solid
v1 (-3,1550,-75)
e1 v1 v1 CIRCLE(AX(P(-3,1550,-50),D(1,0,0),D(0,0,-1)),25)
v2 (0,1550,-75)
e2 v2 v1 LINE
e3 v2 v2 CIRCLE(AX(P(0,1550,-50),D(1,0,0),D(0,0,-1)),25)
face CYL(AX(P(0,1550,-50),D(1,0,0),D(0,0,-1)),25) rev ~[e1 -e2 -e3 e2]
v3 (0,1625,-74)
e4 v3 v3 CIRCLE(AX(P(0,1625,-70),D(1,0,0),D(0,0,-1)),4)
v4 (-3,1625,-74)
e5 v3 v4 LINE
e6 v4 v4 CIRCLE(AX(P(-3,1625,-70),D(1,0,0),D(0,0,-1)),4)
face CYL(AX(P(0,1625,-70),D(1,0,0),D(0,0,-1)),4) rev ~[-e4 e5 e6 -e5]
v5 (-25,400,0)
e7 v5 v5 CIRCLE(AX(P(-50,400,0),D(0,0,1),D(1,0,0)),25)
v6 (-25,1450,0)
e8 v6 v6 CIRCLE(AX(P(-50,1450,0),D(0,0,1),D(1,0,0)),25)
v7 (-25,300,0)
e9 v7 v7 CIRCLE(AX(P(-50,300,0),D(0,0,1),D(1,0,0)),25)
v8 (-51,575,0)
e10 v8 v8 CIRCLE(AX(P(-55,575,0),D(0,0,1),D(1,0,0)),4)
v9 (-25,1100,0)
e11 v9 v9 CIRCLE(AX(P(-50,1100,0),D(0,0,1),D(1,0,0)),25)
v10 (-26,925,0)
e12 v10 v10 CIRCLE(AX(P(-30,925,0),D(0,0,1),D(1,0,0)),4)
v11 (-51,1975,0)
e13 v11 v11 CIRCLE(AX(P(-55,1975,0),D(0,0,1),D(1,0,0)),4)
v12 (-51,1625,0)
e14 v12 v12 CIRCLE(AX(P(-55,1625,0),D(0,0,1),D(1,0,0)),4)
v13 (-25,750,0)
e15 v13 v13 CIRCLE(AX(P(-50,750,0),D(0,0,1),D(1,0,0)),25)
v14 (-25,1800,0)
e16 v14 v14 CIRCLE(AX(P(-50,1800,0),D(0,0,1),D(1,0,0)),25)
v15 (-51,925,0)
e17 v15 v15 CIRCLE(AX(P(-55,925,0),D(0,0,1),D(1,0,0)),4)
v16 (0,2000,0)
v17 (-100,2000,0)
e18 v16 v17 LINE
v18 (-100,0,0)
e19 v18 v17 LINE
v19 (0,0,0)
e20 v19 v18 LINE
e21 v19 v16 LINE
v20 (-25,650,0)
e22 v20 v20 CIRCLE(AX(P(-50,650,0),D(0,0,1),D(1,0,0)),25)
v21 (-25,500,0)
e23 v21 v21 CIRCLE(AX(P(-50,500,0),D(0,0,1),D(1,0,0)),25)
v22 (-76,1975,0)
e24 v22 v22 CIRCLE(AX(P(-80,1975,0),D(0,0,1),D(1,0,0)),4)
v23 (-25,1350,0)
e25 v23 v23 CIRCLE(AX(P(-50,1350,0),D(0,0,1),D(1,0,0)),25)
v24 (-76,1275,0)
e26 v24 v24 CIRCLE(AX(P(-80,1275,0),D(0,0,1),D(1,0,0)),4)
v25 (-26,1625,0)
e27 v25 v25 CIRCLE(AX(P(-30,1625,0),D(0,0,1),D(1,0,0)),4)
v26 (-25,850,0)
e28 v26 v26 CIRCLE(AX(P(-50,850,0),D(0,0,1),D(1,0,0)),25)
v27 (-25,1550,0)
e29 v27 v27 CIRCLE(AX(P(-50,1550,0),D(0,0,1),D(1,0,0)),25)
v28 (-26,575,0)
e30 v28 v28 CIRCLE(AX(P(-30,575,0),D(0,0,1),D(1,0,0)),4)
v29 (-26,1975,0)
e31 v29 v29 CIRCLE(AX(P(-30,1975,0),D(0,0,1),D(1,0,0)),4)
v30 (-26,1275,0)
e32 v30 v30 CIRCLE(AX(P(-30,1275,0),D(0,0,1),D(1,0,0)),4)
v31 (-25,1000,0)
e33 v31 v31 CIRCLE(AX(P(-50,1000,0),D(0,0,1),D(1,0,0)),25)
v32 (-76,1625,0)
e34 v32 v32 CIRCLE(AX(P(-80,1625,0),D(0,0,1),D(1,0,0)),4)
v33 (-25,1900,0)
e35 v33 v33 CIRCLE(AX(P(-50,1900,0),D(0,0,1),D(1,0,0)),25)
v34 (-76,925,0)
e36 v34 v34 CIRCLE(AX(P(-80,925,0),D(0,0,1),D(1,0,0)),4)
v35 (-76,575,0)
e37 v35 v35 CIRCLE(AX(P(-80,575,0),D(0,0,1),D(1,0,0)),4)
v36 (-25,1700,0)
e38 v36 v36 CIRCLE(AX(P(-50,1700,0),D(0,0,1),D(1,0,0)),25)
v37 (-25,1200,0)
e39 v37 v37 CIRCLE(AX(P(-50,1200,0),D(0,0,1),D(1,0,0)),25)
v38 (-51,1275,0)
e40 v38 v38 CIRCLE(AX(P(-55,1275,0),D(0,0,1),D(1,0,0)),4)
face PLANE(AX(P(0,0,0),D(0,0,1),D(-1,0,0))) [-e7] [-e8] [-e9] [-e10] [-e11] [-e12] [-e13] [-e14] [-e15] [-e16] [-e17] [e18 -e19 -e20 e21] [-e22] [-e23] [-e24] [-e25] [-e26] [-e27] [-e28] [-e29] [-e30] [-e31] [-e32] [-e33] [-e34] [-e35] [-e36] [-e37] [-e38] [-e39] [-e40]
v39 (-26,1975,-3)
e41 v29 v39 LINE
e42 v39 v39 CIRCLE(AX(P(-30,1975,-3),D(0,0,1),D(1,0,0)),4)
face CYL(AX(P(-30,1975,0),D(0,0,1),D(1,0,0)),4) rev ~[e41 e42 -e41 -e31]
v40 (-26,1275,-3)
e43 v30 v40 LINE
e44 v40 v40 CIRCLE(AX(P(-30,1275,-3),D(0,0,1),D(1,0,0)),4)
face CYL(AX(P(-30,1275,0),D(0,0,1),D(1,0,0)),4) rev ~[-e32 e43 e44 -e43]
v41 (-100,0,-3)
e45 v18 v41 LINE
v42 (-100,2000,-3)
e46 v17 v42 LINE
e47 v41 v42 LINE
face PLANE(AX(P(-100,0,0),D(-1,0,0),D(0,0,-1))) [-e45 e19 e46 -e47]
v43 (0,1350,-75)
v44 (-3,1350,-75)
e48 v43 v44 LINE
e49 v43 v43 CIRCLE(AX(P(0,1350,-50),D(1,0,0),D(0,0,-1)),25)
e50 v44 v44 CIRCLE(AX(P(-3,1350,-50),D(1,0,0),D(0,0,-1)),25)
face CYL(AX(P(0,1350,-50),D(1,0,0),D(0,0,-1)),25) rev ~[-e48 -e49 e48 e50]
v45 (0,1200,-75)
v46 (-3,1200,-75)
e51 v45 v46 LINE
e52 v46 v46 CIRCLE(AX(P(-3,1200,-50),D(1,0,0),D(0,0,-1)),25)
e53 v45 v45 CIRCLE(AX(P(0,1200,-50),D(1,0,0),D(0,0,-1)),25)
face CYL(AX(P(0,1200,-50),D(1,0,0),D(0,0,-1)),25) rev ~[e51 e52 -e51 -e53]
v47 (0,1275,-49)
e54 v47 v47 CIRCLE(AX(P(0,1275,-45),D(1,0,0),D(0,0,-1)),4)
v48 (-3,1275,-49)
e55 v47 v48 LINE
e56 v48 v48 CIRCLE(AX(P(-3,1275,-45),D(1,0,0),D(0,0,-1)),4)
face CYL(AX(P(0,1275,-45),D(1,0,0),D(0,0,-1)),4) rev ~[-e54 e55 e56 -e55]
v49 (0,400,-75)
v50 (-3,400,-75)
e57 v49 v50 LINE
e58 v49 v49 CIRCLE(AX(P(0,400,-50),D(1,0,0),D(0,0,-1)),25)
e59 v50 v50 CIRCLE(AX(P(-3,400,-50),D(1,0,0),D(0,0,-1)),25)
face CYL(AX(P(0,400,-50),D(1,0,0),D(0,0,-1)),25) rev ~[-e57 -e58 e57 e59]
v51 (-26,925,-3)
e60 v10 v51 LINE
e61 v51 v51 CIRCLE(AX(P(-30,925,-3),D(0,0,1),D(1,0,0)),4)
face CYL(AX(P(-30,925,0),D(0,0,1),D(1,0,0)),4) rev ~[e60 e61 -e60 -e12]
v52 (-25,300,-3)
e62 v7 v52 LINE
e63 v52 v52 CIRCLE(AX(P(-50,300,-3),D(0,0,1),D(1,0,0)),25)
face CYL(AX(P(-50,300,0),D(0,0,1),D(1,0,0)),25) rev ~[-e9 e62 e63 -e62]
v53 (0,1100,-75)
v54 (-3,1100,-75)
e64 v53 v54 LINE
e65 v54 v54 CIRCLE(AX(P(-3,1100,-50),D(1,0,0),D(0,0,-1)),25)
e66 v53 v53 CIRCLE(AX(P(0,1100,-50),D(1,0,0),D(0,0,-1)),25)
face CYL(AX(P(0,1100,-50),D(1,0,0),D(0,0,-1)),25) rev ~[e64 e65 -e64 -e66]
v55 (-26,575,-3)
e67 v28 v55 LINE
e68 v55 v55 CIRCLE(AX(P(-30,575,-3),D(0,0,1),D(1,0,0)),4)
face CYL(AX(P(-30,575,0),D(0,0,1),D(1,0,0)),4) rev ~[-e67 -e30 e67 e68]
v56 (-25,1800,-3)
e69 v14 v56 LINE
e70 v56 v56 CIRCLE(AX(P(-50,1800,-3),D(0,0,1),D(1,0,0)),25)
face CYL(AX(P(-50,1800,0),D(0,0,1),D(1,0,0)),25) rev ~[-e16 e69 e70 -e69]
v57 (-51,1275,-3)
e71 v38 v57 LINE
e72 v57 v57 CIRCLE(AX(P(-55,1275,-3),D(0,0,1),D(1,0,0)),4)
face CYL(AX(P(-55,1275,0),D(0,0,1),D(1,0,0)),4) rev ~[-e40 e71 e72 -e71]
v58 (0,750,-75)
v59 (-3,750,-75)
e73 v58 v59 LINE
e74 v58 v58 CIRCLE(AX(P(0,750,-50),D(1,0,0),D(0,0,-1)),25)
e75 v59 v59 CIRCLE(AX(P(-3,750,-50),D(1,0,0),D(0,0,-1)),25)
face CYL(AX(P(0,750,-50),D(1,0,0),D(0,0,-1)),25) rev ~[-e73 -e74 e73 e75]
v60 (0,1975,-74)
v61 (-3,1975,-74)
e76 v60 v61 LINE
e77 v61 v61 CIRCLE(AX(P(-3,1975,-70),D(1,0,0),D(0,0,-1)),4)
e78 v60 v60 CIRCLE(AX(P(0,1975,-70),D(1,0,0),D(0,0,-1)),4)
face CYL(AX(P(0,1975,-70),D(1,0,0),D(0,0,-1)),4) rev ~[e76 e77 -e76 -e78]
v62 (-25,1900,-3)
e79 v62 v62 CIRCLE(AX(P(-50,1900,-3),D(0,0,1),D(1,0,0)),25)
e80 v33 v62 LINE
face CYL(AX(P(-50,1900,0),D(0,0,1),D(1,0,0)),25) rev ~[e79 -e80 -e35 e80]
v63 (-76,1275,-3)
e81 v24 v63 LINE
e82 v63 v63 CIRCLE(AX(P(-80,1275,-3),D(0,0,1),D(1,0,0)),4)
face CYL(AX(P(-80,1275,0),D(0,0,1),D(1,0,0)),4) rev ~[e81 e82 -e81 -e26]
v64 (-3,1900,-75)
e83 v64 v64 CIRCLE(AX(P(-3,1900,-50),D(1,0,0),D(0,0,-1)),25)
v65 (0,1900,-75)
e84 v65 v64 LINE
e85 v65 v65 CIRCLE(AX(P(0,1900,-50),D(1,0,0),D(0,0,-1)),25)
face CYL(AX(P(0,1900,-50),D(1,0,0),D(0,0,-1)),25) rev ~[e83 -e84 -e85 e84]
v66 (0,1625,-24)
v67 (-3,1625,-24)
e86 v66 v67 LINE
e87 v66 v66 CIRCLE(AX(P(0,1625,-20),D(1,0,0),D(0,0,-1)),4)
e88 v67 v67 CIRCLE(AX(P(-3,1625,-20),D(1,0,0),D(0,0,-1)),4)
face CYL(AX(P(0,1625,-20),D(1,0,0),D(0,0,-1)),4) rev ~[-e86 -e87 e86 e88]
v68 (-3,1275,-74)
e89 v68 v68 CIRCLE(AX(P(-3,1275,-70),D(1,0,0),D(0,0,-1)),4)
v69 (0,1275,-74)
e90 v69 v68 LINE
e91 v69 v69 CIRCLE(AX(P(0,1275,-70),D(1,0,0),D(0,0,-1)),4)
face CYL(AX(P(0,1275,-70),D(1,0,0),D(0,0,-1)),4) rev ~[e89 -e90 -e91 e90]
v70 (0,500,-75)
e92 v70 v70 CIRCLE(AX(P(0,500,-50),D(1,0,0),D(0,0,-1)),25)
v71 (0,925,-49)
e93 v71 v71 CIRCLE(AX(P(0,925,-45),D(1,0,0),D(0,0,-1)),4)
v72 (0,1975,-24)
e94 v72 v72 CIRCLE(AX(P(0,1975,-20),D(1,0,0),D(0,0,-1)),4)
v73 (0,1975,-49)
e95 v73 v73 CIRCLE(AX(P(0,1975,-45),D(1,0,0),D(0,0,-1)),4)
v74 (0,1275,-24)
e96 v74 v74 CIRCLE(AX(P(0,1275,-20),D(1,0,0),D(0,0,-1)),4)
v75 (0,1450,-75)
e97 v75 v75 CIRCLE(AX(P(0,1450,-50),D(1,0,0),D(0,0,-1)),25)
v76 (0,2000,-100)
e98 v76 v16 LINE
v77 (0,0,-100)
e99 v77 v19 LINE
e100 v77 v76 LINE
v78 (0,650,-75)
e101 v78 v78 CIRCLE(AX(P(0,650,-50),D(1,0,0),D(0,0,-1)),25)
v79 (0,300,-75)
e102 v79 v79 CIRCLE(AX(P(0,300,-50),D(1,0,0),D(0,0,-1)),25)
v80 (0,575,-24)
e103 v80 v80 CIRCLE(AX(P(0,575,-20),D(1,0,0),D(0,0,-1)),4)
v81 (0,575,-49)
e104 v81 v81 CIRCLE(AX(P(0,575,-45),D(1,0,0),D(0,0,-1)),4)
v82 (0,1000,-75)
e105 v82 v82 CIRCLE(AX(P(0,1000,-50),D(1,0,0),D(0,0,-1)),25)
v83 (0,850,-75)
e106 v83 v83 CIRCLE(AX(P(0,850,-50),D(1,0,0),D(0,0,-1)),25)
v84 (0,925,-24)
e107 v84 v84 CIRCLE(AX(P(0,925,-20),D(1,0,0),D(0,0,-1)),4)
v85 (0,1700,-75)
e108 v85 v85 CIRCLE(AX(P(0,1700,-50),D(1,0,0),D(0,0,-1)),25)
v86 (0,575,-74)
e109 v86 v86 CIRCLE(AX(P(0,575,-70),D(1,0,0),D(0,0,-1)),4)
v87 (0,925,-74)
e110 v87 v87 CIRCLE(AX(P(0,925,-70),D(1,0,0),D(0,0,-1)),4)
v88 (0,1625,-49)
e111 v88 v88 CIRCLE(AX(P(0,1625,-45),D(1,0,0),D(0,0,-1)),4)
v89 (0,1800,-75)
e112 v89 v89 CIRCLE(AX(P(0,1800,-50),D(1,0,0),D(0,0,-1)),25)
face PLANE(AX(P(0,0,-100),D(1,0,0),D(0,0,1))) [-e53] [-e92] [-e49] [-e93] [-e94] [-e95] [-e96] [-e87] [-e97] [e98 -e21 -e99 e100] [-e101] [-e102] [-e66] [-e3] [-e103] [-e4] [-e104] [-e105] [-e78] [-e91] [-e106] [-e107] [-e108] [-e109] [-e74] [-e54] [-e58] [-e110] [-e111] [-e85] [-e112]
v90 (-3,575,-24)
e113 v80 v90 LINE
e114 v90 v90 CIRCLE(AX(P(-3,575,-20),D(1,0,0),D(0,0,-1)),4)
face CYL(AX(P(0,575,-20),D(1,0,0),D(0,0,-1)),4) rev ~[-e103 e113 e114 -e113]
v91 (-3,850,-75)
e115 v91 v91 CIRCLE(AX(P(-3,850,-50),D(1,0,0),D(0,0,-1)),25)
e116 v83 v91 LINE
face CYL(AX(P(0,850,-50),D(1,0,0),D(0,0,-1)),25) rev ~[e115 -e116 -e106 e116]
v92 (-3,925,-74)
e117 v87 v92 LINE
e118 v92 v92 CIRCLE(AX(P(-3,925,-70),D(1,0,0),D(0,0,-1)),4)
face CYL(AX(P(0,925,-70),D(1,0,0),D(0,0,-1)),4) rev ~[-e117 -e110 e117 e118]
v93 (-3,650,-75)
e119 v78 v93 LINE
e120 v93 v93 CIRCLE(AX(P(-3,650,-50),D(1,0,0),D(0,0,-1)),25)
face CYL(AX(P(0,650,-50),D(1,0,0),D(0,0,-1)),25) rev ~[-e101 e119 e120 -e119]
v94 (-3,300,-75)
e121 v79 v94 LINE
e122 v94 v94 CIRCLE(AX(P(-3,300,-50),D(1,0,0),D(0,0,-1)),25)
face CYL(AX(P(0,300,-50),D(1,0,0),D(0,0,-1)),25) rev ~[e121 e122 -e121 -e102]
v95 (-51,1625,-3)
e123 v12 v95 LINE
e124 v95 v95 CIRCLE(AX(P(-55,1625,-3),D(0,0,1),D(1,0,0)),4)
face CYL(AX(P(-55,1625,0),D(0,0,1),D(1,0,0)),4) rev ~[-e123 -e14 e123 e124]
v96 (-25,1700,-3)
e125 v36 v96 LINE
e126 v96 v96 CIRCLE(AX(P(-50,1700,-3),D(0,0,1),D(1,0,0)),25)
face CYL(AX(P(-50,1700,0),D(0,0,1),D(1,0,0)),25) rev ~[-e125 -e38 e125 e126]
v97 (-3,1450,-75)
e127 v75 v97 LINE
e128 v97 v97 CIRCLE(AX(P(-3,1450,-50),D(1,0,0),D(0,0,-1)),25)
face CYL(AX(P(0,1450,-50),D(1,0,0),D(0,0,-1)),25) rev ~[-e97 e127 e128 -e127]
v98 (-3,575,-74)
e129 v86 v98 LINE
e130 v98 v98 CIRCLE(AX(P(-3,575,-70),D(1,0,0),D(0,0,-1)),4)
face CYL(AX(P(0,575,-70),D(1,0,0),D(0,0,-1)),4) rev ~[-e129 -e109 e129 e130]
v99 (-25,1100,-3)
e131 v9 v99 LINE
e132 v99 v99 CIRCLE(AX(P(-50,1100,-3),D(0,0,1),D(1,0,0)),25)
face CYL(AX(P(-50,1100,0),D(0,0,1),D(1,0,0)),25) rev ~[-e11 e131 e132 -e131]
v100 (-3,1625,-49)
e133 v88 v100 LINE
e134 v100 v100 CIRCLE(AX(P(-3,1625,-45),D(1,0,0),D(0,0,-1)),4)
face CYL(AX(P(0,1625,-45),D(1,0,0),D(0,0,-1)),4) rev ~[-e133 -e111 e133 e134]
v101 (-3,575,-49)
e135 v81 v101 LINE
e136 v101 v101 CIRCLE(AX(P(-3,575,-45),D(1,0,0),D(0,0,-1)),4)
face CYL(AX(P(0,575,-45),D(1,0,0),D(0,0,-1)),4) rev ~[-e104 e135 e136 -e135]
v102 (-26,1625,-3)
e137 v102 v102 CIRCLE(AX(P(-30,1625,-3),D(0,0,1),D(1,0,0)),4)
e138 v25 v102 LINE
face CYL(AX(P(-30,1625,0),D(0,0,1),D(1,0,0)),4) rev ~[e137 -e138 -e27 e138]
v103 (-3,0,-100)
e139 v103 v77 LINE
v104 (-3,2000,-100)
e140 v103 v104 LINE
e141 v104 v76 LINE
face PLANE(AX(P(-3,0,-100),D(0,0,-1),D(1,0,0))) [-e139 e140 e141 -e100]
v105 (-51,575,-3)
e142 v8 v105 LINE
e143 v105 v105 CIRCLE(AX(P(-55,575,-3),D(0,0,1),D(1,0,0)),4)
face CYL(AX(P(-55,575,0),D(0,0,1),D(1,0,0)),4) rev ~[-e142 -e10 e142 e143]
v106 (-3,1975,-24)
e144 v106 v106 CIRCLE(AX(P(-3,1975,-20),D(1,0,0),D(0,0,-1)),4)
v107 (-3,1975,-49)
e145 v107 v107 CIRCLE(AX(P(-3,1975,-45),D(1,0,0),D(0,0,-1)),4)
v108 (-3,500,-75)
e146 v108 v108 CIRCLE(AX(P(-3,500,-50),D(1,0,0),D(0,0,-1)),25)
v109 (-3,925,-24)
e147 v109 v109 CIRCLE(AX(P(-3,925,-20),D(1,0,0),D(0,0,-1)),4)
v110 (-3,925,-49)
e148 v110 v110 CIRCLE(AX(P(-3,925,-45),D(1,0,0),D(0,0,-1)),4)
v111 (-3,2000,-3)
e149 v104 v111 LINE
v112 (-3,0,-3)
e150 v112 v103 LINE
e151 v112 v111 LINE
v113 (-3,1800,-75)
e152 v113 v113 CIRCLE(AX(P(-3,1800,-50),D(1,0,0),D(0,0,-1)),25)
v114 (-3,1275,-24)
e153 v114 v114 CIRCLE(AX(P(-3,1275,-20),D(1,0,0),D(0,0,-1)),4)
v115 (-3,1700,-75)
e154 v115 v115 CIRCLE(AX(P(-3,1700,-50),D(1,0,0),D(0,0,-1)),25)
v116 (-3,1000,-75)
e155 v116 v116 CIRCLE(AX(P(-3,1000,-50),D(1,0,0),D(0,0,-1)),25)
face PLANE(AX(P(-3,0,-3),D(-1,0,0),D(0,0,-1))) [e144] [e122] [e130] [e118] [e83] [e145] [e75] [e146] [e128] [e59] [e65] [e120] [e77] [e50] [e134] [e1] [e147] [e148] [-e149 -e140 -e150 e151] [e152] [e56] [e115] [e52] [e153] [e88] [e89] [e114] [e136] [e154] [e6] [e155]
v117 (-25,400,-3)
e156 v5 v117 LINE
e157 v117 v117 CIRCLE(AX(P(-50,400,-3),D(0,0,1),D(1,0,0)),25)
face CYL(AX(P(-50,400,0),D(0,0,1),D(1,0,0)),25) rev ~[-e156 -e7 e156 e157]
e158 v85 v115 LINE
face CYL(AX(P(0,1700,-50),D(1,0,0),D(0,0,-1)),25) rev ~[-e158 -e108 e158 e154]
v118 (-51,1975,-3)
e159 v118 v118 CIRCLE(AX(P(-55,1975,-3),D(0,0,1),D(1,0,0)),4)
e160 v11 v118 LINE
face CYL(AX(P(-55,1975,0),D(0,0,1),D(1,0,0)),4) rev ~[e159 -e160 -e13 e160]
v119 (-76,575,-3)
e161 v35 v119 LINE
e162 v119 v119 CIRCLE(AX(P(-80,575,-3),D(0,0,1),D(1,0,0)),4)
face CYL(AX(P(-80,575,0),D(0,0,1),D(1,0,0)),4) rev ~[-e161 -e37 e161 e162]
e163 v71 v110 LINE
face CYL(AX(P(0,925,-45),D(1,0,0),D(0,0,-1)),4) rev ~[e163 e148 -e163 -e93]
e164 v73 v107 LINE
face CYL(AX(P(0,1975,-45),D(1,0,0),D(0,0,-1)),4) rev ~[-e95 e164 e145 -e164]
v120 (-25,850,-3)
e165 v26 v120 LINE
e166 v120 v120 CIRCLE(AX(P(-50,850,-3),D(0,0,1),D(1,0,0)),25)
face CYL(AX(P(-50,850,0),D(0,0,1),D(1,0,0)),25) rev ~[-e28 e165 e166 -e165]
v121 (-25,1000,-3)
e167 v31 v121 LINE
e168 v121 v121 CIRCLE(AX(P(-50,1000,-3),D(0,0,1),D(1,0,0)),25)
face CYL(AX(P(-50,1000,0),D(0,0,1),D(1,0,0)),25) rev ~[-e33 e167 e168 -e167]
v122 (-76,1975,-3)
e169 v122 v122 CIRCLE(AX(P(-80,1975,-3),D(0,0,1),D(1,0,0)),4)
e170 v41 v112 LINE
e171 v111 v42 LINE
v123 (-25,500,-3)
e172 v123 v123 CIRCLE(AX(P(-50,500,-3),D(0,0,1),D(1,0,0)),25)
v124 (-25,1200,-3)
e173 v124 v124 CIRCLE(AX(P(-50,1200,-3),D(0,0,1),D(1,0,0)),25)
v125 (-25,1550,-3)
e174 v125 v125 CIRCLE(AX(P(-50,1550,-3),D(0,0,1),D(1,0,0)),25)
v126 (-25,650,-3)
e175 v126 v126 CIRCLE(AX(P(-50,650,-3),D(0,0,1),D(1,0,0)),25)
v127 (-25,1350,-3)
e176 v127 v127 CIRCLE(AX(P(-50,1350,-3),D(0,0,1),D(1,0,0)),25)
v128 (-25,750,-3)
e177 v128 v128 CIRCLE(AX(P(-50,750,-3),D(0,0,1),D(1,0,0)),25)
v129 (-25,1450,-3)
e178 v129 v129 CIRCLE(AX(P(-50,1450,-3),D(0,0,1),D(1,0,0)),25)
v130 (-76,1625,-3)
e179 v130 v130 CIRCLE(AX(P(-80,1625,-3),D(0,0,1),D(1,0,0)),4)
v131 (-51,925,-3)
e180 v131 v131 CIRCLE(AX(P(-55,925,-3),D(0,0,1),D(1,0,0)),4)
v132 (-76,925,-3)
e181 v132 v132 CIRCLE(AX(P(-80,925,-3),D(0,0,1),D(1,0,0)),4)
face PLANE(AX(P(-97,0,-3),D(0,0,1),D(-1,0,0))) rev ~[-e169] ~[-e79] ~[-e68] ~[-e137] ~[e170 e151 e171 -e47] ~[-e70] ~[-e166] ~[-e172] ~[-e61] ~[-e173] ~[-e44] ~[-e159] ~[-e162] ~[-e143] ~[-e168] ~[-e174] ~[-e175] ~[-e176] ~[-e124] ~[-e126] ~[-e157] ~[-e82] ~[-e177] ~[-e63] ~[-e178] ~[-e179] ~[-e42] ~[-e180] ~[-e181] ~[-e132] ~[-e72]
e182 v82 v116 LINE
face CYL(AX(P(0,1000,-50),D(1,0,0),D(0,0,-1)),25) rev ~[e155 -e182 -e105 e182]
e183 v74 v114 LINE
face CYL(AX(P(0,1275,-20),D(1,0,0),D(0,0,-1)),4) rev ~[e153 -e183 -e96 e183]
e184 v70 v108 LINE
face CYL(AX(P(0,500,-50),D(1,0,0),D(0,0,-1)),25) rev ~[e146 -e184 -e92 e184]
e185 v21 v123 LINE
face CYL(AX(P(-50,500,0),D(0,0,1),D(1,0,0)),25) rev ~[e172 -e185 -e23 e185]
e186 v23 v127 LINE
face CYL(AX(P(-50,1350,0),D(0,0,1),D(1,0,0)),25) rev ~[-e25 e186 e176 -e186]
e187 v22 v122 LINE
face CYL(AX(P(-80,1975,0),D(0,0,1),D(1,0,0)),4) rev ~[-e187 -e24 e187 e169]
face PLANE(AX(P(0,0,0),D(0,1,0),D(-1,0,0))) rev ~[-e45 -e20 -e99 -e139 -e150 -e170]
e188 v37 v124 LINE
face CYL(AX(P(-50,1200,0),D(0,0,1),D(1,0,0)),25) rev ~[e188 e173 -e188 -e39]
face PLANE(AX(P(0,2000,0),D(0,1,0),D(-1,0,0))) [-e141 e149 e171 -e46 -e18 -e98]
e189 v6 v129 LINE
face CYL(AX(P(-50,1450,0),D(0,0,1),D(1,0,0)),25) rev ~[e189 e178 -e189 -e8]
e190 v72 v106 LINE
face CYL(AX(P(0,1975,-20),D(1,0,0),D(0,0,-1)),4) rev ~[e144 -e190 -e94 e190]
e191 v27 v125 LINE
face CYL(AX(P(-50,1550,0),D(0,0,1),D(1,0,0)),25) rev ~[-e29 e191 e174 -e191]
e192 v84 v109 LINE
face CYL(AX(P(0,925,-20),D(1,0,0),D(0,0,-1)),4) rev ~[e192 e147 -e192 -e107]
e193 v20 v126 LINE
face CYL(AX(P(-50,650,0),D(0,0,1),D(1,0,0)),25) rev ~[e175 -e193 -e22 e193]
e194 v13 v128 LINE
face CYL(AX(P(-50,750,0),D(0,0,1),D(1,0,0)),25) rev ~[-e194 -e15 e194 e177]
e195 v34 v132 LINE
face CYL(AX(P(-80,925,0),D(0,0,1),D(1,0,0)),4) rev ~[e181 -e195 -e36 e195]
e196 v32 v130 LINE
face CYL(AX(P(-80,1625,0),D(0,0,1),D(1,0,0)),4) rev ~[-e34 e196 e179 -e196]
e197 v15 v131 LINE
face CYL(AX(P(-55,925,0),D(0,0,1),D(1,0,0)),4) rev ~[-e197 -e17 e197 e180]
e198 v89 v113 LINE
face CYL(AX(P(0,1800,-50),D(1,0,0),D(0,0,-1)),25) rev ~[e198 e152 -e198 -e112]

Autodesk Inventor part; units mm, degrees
ref_plane "YZ Plane" through (0, 0, 0) normal (1, 0, 0) x (0, 1, 0)
ref_plane "XZ Plane" through (0, 0, 0) normal (0, 1, 0) x (-1, 0, 0)
ref_plane "XY Plane" through (0, 0, 0) normal (0, 0, 1) x (1, 0, 0)
sketch "Boceto6" plane through (0, 0, 0) normal (0, 1, 0) x (-1, 0, 0)
  line L0 (0, 0) -> (100, 0)
  line L1 (100, 0) -> (100, -100)
  line L2 (100, -100) -> (0, -100)
  line L3 (0, -100) -> (0, 0)
  line L4 (97, -97) -> (97, -3)
  line L5 (97, -3) -> (3, -3)
  line L6 (3, -3) -> (3, -97)
  line L7 (3, -97) -> (97, -97)
  line L8 (97, -3) -> (100, -3)
  line L9 (3, -97) -> (3, -106.6251)
  point P0 (3, -100)
  dimension "d46" = 100
  dimension "d47" = 100
  dimension "d48" = 3
extrude "Extrusión6" add sketch "Boceto6" along normal blind 2000 contours L0 L1 L8 L5 L6 L9 L2 L3
sketch "Boceto9" plane through (-100, 0, 0) normal (0, 0, 1) x (1, 0, 0)
  point P0 (100, 0)
sketch "Boceto12" plane through (0, 0, 0) normal (1, 0, 0) x (0, 0, -1)
  line L0 (0, 2000) -> (100, 2000) projected
  line L1 (100, 0) -> (100, 2000) projected
  line L2 (0, 2000) -> (100, 2000)
  line L3 (100, 2000) -> (100, 1950)
  line L4 (100, 1950) -> (0, 1950)
  line L5 (0, 1950) -> (0, 2000)
  line L6 (0, 1650) -> (100, 1650)
  line L7 (100, 1650) -> (100, 1600)
  line L8 (100, 1600) -> (0, 1600)
  line L9 (0, 1600) -> (0, 1650)
  line L10 (0, 1300) -> (100, 1300)
  line L11 (100, 1300) -> (100, 1250)
  line L12 (100, 1250) -> (0, 1250)
  line L13 (0, 1250) -> (0, 1300)
  line L14 (0, 950) -> (100, 950)
  line L15 (100, 950) -> (100, 900)
  line L16 (100, 900) -> (0, 900)
  line L17 (0, 900) -> (0, 950)
  line L18 (0, 600) -> (100, 600)
  line L19 (100, 600) -> (100, 550)
  line L20 (100, 550) -> (0, 550)
  line L21 (0, 550) -> (0, 600)
  circle A0 centre (50, 1900) radius 25
  line L22 (0, 0) -> (0, 2000) projected
  circle A1 centre (50, 1800) radius 25
  circle A2 centre (50, 1700) radius 25
  circle A3 centre (20, 1975) radius 4
  circle A4 centre (45, 1975) radius 4
  circle A5 centre (70, 1975) radius 4
  line L23 (100, 1600) -> (0, 1600)
  line L24 (0, 1650) -> (100, 1650)
  line L25 (100, 1650) -> (100, 1600)
  circle A6 centre (50, 1350) radius 25
  circle A7 centre (50, 1450) radius 25
  circle A8 centre (50, 1550) radius 25
  circle A9 centre (70, 1625) radius 4
  circle A10 centre (45, 1625) radius 4
  circle A11 centre (20, 1625) radius 4
  line L26 (100, 1250) -> (0, 1250)
  line L27 (0, 1300) -> (100, 1300)
  line L28 (100, 1300) -> (100, 1250)
  circle A12 centre (50, 1000) radius 25
  circle A13 centre (50, 1100) radius 25
  circle A14 centre (50, 1200) radius 25
  circle A15 centre (70, 1275) radius 4
  circle A16 centre (45, 1275) radius 4
  circle A17 centre (20, 1275) radius 4
  line L29 (100, 900) -> (0, 900)
  line L30 (0, 950) -> (100, 950)
  line L31 (100, 950) -> (100, 900)
  circle A18 centre (50, 650) radius 25
  circle A19 centre (50, 750) radius 25
  circle A20 centre (50, 850) radius 25
  circle A21 centre (70, 925) radius 4
  circle A22 centre (45, 925) radius 4
  circle A23 centre (20, 925) radius 4
  line L32 (100, 550) -> (0, 550)
  line L33 (0, 600) -> (100, 600)
  line L34 (100, 600) -> (100, 550)
  circle A24 centre (50, 300) radius 25
  circle A25 centre (50, 400) radius 25
  circle A26 centre (50, 500) radius 25
  circle A27 centre (70, 575) radius 4
  circle A28 centre (45, 575) radius 4
  circle A29 centre (20, 575) radius 4
  point P0 (0, 1975)
  point P1 (100, 1975)
  point P2 (100, 1625)
  point P3 (100, 1275)
  point P4 (100, 925)
  point P5 (100, 575)
  dimension "d113" = 50
  dimension "d116" = 350
  dimension "d121" = 50
  dimension "d122" = 50
  dimension "d123" = 50
  dimension "d126" = 100
  dimension "d135" = 8
  dimension "d136" = 8
  dimension "d137" = 8
  dimension "d138" = 25
  dimension "d139" = 25
  dimension "d140" = 25
  dimension "d141" = 20
  dimension "d142" = 30
  dimension "d143" = 25
  dimension "d144" = 25
  dimension "d147" = 350
extrude "Extrusión10" cut sketch "Boceto12" against normal blind 2000 contours A0 | A1 | A2 | A3 | A4 | A5 | A6 | A7 | A8 | A9 | A10 | A11 | A12 | A13 | A14 | A15 | A16 | A17 | A18 | A19 | A20 | A21 | A22 | A23 | A24 | A25 | A26 | A27 | A28 | A29
sketch "Boceto13" plane through (-100, 0, 0) normal (0, 0, 1) x (1, 0, 0)
  line L0 (0, 2000) -> (100, 2000)
  line L1 (100, 694.7481) -> (100, 2000)
  line L2 (0, 2000) -> (100, 2000)
  line L3 (100, 2000) -> (100, 1950)
  line L4 (100, 1950) -> (0, 1950)
  line L5 (0, 1950) -> (0, 2000)
  line L6 (0, 1650) -> (100, 1650)
  line L7 (100, 1650) -> (100, 1600)
  line L8 (100, 1600) -> (0, 1600)
  line L9 (0, 1600) -> (0, 1650)
  line L10 (0, 1300) -> (100, 1300)
  line L11 (100, 1300) -> (100, 1250)
  line L12 (100, 1250) -> (0, 1250)
  line L13 (0, 1250) -> (0, 1300)
  line L14 (0, 950) -> (100, 950)
  line L15 (100, 950) -> (100, 900)
  line L16 (100, 900) -> (0, 900)
  line L17 (0, 900) -> (0, 950)
  line L18 (0, 600) -> (100, 600)
  line L19 (100, 600) -> (100, 550)
  line L20 (100, 550) -> (0, 550)
  line L21 (0, 550) -> (0, 600)
  circle A0 centre (50, 1900) radius 25
  line L22 (0, 692.1927) -> (0, 2000)
  circle A1 centre (50, 1800) radius 25
  circle A2 centre (50, 1700) radius 25
  circle A3 centre (20, 1975) radius 4
  circle A4 centre (45, 1975) radius 4
  circle A5 centre (70, 1975) radius 4
  line L23 (100, 1600) -> (0, 1600)
  line L24 (0, 1650) -> (100, 1650)
  line L25 (100, 1650) -> (100, 1600)
  circle A6 centre (50, 1350) radius 25
  circle A7 centre (50, 1450) radius 25
  circle A8 centre (50, 1550) radius 25
  circle A9 centre (70, 1625) radius 4
  circle A10 centre (45, 1625) radius 4
  circle A11 centre (20, 1625) radius 4
  line L26 (100, 1250) -> (0, 1250)
  line L27 (0, 1300) -> (100, 1300)
  line L28 (100, 1300) -> (100, 1250)
  circle A12 centre (50, 1000) radius 25
  circle A13 centre (50, 1100) radius 25
  circle A14 centre (50, 1200) radius 25
  circle A15 centre (70, 1275) radius 4
  circle A16 centre (45, 1275) radius 4
  circle A17 centre (20, 1275) radius 4
  line L29 (100, 900) -> (0, 900)
  line L30 (0, 950) -> (100, 950)
  line L31 (100, 950) -> (100, 900)
  circle A18 centre (50, 650) radius 25
  circle A19 centre (50, 750) radius 25
  circle A20 centre (50, 850) radius 25
  circle A21 centre (70, 925) radius 4
  circle A22 centre (45, 925) radius 4
  circle A23 centre (20, 925) radius 4
  line L32 (100, 550) -> (0, 550)
  line L33 (0, 600) -> (100, 600)
  line L34 (100, 600) -> (100, 550)
  circle A24 centre (50, 300) radius 25
  circle A25 centre (50, 400) radius 25
  circle A26 centre (50, 500) radius 25
  circle A27 centre (70, 575) radius 4
  circle A28 centre (45, 575) radius 4
  circle A29 centre (20, 575) radius 4
  line L35 (0, 0) -> (0, 2000) projected
  line L36 (100, 0) -> (100, 2000) projected
  line L37 (0, 2000) -> (100, 2000) projected
  point P0 (0, 1975)
  point P1 (100, 1975)
  point P2 (100, 1625)
  point P3 (100, 1275)
  point P4 (100, 925)
  point P5 (100, 575)
  dimension "d166" = 50
  dimension "d167" = 350
  dimension "d168" = 50
  dimension "d169" = 50
  dimension "d170" = 50
  dimension "d171" = 100
  dimension "d172" = 8
  dimension "d173" = 8
  dimension "d174" = 8
  dimension "d175" = 25
  dimension "d176" = 25
  dimension "d177" = 25
  dimension "d178" = 20
  dimension "d179" = 30
  dimension "d180" = 25
  dimension "d181" = 25
  dimension "d182" = 350
  dimension "d186" = 0
  dimension "d187" = 0
  dimension "d188" = 0
extrude "Extrusión11" cut sketch "Boceto13" against normal blind 2000 contours A0 | A1 | A2 | A3 | A4 | A5 | A6 | A7 | A8 | A9 | A10 | A11 | A12 | A13 | A14 | A15 | A16 | A17 | A18 | A19 | A20 | A21 | A22 | A23 | A24 | A25 | A26 | A27 | A28 | A29
properties part number "mesa completa"
